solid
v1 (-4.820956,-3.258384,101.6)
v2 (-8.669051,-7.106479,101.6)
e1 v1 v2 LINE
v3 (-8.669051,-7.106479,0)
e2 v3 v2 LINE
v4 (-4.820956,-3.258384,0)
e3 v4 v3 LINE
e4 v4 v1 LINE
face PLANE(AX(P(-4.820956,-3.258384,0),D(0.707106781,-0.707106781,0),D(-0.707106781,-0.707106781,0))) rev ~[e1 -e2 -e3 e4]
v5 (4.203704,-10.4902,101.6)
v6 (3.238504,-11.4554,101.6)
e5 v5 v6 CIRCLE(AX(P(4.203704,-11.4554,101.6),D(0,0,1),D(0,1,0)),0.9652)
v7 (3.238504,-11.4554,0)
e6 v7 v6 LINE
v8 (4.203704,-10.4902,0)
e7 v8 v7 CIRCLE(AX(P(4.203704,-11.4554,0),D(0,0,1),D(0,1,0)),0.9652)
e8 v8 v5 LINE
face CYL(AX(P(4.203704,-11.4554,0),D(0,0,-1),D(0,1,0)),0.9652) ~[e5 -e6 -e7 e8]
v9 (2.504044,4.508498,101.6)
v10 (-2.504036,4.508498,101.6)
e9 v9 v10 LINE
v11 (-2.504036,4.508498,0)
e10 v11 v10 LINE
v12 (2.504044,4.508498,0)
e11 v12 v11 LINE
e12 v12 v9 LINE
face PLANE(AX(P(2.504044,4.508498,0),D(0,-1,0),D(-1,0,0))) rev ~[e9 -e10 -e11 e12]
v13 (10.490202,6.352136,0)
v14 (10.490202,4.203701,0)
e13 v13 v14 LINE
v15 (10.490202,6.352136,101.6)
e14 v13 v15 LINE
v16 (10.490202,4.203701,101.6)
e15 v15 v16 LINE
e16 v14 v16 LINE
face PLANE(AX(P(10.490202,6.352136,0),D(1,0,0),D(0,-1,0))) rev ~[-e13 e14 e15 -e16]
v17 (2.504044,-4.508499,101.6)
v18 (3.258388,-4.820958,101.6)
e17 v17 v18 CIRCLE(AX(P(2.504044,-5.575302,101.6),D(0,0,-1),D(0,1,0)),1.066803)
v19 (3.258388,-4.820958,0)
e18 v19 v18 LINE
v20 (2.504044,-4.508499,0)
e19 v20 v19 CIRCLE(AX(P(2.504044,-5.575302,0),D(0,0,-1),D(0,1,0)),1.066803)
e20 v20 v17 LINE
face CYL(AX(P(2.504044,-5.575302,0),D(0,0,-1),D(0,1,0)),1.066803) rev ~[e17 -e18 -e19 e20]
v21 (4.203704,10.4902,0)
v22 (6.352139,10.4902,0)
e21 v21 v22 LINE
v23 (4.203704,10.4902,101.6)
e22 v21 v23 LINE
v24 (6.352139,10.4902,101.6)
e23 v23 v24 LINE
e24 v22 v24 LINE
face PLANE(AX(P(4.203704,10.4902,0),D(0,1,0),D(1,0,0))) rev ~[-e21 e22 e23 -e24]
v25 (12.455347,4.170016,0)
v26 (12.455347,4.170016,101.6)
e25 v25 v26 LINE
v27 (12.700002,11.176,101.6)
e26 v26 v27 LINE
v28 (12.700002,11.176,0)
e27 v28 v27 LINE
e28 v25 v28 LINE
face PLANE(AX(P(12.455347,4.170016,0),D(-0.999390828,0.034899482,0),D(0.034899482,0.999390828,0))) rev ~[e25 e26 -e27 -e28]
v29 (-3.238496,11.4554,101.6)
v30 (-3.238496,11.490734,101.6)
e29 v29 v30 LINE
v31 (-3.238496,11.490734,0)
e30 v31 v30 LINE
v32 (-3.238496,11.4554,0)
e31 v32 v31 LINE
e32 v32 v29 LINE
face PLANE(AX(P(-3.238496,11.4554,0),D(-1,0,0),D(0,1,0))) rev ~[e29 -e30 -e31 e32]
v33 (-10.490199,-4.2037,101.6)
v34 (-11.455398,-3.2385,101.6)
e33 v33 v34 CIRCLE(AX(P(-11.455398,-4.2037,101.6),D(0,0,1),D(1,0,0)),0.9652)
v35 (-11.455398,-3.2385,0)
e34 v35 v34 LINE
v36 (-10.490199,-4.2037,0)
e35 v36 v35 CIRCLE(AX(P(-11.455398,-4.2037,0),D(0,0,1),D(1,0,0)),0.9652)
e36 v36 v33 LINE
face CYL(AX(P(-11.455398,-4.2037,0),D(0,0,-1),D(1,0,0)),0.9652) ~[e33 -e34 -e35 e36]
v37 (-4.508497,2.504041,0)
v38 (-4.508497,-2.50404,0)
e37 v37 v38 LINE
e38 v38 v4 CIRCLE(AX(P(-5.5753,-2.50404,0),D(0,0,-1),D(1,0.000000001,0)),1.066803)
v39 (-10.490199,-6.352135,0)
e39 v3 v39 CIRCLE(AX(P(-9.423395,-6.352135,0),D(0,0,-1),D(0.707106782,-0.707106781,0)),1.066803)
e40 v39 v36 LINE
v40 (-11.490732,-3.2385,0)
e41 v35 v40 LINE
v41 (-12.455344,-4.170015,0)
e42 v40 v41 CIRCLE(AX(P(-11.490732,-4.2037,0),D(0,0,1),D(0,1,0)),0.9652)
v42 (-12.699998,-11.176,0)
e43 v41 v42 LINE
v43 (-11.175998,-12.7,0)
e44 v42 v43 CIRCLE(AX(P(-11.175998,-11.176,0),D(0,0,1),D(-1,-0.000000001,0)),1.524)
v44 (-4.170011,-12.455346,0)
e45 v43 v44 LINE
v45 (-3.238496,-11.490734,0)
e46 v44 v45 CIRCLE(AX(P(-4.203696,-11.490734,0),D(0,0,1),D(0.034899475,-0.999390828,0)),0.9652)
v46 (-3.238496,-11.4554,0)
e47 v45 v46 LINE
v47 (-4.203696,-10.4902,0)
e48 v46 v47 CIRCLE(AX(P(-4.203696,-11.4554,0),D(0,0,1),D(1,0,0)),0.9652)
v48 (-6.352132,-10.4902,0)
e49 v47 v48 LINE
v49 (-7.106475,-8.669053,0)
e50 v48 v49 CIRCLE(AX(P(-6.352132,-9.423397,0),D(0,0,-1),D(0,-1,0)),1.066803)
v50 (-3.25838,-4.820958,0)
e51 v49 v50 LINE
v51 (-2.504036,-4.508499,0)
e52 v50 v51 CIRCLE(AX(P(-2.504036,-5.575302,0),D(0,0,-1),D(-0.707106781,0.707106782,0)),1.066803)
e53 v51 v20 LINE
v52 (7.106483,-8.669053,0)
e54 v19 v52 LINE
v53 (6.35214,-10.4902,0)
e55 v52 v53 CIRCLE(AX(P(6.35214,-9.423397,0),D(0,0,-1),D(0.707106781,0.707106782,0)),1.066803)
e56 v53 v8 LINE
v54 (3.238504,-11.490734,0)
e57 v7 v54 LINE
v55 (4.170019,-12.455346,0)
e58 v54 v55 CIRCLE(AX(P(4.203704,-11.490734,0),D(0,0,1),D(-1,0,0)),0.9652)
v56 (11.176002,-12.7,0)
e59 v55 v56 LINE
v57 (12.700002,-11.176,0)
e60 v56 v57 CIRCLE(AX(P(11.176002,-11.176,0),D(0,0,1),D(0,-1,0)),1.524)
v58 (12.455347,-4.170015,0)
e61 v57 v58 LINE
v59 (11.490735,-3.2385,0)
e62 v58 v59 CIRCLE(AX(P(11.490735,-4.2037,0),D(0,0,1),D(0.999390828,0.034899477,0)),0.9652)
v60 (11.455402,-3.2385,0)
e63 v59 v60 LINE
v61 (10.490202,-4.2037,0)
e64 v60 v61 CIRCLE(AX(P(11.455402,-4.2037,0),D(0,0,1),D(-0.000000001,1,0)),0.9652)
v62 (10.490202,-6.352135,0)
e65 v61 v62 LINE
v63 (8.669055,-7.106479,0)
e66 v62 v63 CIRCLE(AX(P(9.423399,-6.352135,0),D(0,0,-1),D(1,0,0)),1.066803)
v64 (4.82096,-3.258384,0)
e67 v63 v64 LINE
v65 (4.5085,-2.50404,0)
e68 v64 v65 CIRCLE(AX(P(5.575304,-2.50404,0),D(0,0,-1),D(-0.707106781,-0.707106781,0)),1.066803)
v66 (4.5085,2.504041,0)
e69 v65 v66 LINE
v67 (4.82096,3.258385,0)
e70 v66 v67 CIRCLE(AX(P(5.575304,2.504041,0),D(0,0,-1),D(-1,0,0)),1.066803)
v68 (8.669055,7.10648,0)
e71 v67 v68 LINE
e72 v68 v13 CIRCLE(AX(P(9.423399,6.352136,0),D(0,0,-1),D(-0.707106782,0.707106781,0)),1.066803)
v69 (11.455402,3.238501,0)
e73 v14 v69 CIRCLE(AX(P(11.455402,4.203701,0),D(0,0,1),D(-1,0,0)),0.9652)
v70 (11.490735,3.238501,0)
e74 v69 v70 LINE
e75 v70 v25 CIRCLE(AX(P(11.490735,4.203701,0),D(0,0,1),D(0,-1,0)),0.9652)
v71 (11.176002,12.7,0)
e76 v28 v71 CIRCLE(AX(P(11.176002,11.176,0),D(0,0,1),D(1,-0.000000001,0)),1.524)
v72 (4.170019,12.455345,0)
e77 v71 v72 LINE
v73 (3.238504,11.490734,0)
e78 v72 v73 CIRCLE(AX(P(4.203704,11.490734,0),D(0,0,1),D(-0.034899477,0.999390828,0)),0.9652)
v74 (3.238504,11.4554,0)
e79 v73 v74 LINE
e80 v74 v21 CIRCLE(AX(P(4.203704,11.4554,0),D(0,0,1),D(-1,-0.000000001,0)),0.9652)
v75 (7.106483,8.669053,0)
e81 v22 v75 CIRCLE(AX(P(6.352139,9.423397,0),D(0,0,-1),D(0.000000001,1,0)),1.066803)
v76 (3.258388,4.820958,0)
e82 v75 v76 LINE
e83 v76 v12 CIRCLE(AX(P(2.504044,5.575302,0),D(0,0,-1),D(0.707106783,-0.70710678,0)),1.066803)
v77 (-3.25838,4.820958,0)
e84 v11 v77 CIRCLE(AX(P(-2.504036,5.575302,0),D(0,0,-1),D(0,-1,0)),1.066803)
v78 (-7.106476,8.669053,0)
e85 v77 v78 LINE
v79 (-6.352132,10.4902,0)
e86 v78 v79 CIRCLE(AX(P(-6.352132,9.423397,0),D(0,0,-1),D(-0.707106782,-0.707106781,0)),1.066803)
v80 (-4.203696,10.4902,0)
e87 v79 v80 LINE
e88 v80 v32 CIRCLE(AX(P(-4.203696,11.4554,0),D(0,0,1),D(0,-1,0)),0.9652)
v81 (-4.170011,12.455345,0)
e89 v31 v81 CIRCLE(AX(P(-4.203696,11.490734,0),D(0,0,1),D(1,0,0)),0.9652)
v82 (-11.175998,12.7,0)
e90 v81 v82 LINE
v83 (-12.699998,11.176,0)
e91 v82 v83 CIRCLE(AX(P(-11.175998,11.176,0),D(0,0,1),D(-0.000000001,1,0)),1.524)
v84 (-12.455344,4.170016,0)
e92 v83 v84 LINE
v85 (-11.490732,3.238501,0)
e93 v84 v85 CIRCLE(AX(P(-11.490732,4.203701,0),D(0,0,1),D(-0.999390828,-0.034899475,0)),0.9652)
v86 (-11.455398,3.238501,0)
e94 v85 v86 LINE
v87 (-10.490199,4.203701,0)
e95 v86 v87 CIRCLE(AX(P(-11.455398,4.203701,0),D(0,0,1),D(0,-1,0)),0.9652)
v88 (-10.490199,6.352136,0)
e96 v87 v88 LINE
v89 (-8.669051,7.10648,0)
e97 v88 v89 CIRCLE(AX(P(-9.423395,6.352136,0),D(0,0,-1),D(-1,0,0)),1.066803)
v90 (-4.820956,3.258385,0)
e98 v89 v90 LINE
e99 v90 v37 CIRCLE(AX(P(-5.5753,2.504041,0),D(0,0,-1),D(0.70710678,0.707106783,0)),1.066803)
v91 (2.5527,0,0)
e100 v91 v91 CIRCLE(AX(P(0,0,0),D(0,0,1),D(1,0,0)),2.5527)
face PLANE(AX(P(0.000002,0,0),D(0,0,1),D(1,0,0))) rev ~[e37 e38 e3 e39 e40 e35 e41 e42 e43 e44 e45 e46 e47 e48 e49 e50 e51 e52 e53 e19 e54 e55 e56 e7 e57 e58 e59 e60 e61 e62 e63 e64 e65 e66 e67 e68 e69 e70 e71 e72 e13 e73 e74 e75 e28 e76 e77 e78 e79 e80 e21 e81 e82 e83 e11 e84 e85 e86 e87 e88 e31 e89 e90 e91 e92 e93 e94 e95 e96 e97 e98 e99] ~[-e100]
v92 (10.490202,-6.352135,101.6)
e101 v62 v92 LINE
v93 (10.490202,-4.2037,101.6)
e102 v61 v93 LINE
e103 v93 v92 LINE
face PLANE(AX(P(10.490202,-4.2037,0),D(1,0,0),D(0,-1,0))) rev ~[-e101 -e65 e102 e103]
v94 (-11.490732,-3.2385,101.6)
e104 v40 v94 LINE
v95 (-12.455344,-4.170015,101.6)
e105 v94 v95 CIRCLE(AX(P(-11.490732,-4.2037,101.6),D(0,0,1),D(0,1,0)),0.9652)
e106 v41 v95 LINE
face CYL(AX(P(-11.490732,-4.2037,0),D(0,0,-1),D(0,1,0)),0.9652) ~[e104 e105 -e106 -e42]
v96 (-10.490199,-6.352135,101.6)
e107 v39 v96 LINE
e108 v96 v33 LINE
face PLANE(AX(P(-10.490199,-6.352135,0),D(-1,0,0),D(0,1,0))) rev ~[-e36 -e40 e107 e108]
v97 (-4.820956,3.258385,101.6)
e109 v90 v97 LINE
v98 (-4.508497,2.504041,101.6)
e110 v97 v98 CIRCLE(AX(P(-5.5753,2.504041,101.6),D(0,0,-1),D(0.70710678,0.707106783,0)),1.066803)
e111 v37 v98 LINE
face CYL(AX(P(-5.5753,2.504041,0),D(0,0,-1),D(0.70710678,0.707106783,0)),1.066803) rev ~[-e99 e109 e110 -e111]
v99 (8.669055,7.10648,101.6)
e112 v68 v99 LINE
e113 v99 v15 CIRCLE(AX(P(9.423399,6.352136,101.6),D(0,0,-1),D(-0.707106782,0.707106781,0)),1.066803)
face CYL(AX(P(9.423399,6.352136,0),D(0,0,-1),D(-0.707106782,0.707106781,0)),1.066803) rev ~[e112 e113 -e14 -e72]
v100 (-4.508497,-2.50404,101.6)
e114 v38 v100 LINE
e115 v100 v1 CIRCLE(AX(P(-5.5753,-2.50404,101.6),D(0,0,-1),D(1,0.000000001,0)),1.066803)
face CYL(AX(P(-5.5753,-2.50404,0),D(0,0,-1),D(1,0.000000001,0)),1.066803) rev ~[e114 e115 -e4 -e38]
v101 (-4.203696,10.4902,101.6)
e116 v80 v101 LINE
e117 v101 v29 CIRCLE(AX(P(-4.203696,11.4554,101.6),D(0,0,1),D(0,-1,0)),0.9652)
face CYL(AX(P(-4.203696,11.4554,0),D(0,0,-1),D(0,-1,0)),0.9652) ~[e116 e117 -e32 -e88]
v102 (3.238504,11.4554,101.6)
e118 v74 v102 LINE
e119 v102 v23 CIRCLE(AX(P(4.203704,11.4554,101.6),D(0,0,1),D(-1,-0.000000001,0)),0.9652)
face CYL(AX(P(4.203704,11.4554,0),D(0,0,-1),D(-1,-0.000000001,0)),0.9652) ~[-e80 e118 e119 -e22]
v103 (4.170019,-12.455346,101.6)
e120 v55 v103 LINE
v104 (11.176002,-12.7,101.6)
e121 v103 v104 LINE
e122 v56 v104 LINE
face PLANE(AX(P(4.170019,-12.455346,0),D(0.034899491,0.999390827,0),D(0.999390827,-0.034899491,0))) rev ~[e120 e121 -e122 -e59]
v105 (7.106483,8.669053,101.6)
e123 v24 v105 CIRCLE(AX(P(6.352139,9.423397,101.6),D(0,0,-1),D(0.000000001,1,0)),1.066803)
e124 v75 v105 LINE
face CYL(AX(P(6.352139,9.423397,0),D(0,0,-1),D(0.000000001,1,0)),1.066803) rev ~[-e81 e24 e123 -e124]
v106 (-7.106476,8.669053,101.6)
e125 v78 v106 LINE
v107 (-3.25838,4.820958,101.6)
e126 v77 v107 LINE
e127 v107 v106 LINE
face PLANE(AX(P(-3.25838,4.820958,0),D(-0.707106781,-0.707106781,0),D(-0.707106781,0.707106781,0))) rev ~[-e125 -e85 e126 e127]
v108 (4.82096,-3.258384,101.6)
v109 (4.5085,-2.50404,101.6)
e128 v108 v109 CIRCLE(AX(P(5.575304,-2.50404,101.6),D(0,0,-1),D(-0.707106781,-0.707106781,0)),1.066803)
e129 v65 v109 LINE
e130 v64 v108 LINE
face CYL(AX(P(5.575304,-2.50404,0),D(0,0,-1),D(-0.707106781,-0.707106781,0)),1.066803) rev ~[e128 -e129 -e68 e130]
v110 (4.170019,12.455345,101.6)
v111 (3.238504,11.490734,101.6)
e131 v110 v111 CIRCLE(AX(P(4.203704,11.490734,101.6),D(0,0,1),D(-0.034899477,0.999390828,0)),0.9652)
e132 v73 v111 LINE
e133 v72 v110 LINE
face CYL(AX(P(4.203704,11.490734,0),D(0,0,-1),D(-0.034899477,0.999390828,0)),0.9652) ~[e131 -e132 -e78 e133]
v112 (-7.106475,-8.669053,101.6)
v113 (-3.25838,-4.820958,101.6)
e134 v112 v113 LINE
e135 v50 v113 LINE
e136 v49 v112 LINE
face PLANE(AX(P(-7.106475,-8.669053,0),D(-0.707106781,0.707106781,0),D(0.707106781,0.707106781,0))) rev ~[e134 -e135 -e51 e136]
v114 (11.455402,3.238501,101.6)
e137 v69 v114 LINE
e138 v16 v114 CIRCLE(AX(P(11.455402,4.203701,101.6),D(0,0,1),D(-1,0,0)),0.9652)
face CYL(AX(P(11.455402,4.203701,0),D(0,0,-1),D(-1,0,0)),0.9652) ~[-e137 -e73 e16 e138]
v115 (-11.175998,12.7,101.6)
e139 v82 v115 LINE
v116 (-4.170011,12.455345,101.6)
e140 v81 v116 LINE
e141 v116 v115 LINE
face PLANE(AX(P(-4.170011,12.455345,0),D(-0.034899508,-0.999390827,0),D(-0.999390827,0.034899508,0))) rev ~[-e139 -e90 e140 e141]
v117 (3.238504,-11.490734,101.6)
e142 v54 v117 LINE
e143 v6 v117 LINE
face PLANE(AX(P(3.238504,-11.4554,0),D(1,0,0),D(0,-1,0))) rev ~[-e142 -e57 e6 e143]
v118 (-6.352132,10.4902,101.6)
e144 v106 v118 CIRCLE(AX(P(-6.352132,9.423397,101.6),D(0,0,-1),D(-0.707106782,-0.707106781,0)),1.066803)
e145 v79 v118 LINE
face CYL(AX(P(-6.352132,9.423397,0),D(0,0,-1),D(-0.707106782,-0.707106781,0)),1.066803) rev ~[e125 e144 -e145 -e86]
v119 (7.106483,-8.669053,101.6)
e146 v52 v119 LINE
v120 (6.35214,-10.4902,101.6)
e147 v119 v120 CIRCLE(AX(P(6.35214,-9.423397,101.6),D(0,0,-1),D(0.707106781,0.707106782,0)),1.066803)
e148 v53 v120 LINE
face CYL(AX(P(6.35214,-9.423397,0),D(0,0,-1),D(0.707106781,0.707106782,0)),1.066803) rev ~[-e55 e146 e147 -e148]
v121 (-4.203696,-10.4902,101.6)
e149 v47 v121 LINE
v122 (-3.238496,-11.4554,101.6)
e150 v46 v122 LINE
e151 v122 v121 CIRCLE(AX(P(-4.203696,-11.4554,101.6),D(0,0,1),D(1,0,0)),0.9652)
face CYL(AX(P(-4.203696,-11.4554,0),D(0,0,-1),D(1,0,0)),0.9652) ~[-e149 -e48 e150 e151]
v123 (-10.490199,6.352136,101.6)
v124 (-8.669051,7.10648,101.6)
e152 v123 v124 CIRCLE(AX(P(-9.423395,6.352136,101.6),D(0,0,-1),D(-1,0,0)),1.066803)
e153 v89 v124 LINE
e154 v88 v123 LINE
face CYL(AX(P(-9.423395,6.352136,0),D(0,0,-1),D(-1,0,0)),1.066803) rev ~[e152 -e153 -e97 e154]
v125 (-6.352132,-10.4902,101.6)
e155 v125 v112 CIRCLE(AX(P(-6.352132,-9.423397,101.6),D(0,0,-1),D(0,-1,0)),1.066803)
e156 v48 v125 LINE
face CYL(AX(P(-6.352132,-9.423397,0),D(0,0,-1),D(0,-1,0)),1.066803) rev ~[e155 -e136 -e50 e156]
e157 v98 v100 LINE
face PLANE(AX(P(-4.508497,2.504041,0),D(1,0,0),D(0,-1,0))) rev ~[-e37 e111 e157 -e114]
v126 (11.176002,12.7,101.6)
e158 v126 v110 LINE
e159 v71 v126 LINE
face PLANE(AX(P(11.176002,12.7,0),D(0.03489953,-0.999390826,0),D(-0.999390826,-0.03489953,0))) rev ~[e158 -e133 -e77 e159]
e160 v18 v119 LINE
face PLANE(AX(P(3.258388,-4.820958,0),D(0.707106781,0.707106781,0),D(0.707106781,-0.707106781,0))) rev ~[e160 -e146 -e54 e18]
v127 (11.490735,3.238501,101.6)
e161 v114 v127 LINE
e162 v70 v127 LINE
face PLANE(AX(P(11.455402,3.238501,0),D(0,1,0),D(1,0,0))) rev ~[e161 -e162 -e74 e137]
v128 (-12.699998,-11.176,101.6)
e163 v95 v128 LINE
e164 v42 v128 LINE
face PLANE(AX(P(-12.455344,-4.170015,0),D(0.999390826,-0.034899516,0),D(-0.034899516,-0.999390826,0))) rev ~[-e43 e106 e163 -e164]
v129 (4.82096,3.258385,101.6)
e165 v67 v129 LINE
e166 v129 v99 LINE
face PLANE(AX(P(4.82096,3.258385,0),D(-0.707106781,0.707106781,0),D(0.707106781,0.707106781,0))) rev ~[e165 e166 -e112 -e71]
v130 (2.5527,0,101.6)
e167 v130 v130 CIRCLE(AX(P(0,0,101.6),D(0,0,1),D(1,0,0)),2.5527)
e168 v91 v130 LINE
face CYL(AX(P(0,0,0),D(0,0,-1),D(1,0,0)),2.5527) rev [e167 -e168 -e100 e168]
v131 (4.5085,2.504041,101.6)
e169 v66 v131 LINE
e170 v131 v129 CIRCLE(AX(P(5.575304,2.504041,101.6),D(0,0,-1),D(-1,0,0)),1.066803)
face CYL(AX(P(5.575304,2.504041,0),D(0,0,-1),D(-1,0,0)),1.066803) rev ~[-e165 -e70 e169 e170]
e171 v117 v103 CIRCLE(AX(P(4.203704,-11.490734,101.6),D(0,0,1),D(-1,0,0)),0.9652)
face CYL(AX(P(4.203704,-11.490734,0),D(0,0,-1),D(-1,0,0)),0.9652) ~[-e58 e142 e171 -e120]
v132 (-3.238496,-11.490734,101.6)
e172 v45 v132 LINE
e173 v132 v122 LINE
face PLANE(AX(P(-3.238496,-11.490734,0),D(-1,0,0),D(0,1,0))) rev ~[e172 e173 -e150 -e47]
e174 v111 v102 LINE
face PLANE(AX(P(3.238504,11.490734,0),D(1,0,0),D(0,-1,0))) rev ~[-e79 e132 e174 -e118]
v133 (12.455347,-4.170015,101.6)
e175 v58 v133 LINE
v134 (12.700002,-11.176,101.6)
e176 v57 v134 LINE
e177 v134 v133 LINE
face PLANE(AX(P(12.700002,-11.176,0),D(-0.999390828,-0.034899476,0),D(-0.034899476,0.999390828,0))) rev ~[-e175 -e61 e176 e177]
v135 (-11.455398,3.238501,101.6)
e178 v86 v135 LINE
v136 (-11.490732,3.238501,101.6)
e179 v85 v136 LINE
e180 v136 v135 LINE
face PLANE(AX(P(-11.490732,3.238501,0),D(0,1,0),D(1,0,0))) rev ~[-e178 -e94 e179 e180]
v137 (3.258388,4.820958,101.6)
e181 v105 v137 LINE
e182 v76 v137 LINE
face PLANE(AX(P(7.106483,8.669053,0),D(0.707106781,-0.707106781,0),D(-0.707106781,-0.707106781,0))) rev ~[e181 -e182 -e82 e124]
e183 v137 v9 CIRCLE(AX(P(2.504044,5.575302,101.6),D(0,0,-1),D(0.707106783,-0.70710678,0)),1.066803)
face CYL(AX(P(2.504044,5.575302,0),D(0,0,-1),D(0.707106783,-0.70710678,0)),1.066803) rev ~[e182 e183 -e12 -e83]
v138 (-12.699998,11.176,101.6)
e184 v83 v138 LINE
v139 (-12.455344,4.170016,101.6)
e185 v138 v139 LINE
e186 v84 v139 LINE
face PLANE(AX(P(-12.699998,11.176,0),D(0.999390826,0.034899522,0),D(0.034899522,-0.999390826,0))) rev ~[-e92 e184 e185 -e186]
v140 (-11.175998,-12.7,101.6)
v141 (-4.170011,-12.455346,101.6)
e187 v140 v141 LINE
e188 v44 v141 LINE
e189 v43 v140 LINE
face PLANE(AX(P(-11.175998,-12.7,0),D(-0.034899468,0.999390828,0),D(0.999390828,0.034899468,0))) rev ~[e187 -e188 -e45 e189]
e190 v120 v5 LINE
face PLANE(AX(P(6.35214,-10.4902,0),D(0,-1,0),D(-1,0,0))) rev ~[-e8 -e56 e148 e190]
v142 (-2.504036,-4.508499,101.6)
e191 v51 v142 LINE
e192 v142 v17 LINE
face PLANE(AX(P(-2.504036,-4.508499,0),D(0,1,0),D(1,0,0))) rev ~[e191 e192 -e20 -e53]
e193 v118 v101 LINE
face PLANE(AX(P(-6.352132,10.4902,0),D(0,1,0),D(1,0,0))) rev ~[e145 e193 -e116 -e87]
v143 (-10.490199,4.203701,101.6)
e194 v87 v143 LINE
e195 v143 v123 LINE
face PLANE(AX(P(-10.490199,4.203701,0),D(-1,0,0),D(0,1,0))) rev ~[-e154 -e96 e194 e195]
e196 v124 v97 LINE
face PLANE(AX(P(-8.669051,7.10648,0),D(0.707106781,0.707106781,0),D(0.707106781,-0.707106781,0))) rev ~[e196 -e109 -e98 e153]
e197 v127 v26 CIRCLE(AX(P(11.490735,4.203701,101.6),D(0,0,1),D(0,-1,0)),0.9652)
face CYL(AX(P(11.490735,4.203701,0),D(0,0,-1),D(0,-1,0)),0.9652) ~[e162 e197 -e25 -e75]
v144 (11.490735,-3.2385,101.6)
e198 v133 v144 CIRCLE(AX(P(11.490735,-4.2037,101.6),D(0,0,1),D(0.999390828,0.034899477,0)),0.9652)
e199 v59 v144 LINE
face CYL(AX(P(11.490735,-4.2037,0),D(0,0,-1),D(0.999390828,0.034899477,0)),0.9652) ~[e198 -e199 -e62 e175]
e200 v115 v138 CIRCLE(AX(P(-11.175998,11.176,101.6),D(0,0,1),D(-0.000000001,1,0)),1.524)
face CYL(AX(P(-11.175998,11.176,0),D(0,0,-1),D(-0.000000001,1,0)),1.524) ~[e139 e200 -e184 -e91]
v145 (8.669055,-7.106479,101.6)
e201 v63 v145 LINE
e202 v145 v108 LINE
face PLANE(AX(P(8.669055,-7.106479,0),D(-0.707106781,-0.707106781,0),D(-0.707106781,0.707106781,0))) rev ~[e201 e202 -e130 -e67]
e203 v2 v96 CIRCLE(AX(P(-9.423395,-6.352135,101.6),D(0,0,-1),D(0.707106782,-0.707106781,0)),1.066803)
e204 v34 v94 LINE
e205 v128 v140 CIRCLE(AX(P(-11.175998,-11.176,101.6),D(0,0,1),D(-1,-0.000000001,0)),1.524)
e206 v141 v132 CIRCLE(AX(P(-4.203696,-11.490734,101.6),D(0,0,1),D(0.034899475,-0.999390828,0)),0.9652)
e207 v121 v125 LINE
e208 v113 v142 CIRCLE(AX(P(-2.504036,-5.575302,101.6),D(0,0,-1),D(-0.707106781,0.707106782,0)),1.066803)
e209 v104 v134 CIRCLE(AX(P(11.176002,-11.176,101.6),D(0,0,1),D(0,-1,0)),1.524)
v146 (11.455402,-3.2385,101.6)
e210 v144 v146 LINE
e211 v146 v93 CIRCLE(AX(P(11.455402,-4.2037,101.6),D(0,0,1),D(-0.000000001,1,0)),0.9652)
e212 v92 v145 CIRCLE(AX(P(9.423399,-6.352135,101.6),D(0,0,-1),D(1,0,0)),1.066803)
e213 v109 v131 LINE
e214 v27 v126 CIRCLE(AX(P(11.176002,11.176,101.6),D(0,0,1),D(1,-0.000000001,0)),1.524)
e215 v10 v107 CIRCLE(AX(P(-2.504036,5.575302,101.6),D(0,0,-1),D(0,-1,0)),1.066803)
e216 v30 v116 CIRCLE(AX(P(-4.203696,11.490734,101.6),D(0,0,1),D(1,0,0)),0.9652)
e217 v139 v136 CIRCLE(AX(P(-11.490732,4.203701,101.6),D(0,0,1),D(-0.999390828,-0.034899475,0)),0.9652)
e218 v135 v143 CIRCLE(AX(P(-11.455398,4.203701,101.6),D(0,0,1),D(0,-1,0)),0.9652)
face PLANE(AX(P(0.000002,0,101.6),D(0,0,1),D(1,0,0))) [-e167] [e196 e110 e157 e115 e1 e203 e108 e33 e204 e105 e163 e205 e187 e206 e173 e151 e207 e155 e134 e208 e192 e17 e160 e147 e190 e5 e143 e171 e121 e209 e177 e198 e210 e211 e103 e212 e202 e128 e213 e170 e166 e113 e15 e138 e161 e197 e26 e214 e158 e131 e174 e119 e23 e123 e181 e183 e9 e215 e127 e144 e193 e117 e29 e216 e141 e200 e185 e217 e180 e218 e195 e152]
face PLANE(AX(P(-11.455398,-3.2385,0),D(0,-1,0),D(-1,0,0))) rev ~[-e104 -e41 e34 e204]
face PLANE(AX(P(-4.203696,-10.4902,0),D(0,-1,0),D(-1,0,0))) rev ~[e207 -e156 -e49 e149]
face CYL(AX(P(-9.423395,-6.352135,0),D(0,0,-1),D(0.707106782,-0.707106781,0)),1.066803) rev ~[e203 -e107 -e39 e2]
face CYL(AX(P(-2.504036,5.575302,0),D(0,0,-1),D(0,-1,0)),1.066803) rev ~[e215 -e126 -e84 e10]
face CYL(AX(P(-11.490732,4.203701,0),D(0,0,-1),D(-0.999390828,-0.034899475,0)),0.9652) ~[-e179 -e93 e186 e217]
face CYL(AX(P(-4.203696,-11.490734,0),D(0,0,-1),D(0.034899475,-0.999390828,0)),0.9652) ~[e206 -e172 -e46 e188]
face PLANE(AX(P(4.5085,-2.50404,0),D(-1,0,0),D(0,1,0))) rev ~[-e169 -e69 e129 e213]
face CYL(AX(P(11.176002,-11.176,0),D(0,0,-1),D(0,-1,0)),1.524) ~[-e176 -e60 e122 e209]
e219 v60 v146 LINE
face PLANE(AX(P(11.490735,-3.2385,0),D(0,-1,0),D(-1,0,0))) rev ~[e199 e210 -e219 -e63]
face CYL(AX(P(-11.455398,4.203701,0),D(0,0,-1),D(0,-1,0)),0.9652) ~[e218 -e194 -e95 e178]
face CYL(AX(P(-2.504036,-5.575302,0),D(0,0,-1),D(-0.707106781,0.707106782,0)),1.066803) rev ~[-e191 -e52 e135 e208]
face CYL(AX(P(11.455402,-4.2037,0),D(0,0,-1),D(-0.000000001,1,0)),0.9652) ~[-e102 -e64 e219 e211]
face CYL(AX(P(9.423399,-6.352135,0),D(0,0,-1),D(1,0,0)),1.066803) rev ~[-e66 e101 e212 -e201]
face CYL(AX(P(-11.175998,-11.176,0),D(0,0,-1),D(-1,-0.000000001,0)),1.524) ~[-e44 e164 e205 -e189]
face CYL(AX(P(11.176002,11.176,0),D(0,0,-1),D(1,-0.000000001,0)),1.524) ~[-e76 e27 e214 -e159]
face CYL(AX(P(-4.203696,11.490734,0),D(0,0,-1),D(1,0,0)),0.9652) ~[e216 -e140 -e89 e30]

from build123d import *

# Parameters (mm, degrees)
SKETCH1_R      = 2.5527
EXTRUDE1_DEPTH = 101.6


with BuildPart() as part:
    # Sketch1 → Extrude1 (new body)
    with BuildSketch(Plane.XY):
        with BuildLine():
            Line((3.238504286, -11.455400345), (3.238504286, -11.49073383))
            ThreePointArc((3.238504286, -11.49073383), (3.509397472, -12.161218003), (4.170019162, -12.455345741))
            Line((4.170019162, -12.455345741), (11.176001705, -12.7))
            ThreePointArc((11.176001705, -12.7), (12.253632411, -12.253630746), (12.700001664, -11.17600004))
            Line((12.700001664, -11.17600004), (12.455347406, -4.170014669))
            ThreePointArc((12.455347406, -4.170014669), (12.16121968, -3.509392954), (11.490735494, -3.238499755))
            Line((11.490735494, -3.238499755), (11.455402009, -3.238499755))
            ThreePointArc((11.455402009, -3.238499755), (10.772902626, -3.521200256), (10.490202125, -4.20369964))
            Line((10.490202125, -4.20369964), (10.490202125, -6.352134987))
            ThreePointArc((10.490202125, -6.352134987), (9.831646779, -7.337732713), (8.669054992, -7.106478829))
            Line((8.669054992, -7.106478829), (4.820959759, -3.258383596))
            ThreePointArc((4.820959759, -3.258383596), (4.589705874, -2.912287699), (4.508500309, -2.504039754))
            Line((4.508500309, -2.504039754), (4.508500309, 2.504040946))
            ThreePointArc((4.508500309, 2.504040946), (4.589705874, 2.912288891), (4.820959759, 3.258384788))
            Line((4.820959759, 3.258384788), (8.669054992, 7.106480021))
            ThreePointArc((8.669054992, 7.106480021), (9.831646779, 7.337733906), (10.490202125, 6.35213618))
            Line((10.490202125, 6.35213618), (10.490202125, 4.203700832))
            ThreePointArc((10.490202125, 4.203700832), (10.772902626, 3.521201448), (11.455402009, 3.238500947))
            Line((11.455402009, 3.238500947), (11.490735494, 3.238500947))
            ThreePointArc((11.490735494, 3.238500947), (12.161219667, 3.509394133), (12.455347406, 4.170015823))
            Line((12.455347406, 4.170015823), (12.700001664, 11.176000039))
            ThreePointArc((12.700001664, 11.176000039), (12.253632411, 12.253630745), (11.176001705, 12.699999999))
            Line((11.176001705, 12.699999999), (4.170019162, 12.455345462))
            ThreePointArc((4.170019162, 12.455345462), (3.509397447, 12.161217736), (3.238504248, 11.49073355))
            Line((3.238504248, 11.49073355), (3.238504248, 11.455400065))
            ThreePointArc((3.238504248, 11.455400065), (3.521204749, 10.772900682), (4.203704132, 10.490200181))
            Line((4.203704132, 10.490200181), (6.35213948, 10.490200181))
            ThreePointArc((6.35213948, 10.490200181), (7.337737205, 9.831644835), (7.106483322, 8.669053049))
            Line((7.106483322, 8.669053049), (3.258388088, 4.820957816))
            ThreePointArc((3.258388088, 4.820957816), (2.912292192, 4.589703931), (2.504044247, 4.508498366))
            Line((2.504044247, 4.508498366), (-2.504036453, 4.508498366))
            ThreePointArc((-2.504036453, 4.508498366), (-2.912284398, 4.589703931), (-3.258380295, 4.820957816))
            Line((-3.258380295, 4.820957816), (-7.106475528, 8.669053049))
            ThreePointArc((-7.106475528, 8.669053049), (-7.337729412, 9.831644836), (-6.352131686, 10.490200182))
            Line((-6.352131686, 10.490200182), (-4.203696339, 10.490200182))
            ThreePointArc((-4.203696339, 10.490200182), (-3.521196955, 10.772900683), (-3.238496454, 11.455400067))
            Line((-3.238496454, 11.455400067), (-3.238496454, 11.490733551))
            ThreePointArc((-3.238496454, 11.490733551), (-3.50938964, 12.161217724), (-4.17001133, 12.455345462))
            Line((-4.17001133, 12.455345462), (-11.175998375, 12.699999999))
            ThreePointArc((-11.175998375, 12.699999999), (-12.253629081, 12.253630745), (-12.699998335, 11.176000039))
            Line((-12.699998335, 11.176000039), (-12.455343798, 4.170015823))
            ThreePointArc((-12.455343798, 4.170015823), (-12.161216073, 3.509394108), (-11.490731887, 3.238500909))
            Line((-11.490731887, 3.238500909), (-11.455398403, 3.238500909))
            ThreePointArc((-11.455398403, 3.238500909), (-10.772899019, 3.52120141), (-10.490198518, 4.203700793))
            Line((-10.490198518, 4.203700793), (-10.490198518, 6.352136141))
            ThreePointArc((-10.490198518, 6.352136141), (-9.831643172, 7.337733867), (-8.669051385, 7.106479983))
            Line((-8.669051385, 7.106479983), (-4.820956152, 3.258384749))
            ThreePointArc((-4.820956152, 3.258384749), (-4.589702267, 2.912288853), (-4.508496702, 2.504040908))
            Line((-4.508496702, 2.504040908), (-4.508496702, -2.504039793))
            ThreePointArc((-4.508496702, -2.504039793), (-4.589702267, -2.912287738), (-4.820956152, -3.258383634))
            Line((-4.820956152, -3.258383634), (-8.669051385, -7.106478867))
            ThreePointArc((-8.669051385, -7.106478867), (-9.831643172, -7.337732752), (-10.490198518, -6.352135026))
            Line((-10.490198518, -6.352135026), (-10.490198518, -4.203699678))
            ThreePointArc((-10.490198518, -4.203699678), (-10.772899019, -3.521200294), (-11.455398403, -3.238499793))
            Line((-11.455398403, -3.238499793), (-11.490731887, -3.238499793))
            ThreePointArc((-11.490731887, -3.238499793), (-12.16121606, -3.509392979), (-12.455343798, -4.170014669))
            Line((-12.455343798, -4.170014669), (-12.699998335, -11.17600004))
            ThreePointArc((-12.699998335, -11.17600004), (-12.253629081, -12.253630746), (-11.175998375, -12.7))
            Line((-11.175998375, -12.7), (-4.17001133, -12.455345741))
            ThreePointArc((-4.17001133, -12.455345741), (-3.509389615, -12.161218016), (-3.238496416, -11.49073383))
            Line((-3.238496416, -11.49073383), (-3.238496416, -11.455400345))
            ThreePointArc((-3.238496416, -11.455400345), (-3.521196917, -10.772900961), (-4.2036963, -10.49020046))
            Line((-4.2036963, -10.49020046), (-6.352131648, -10.49020046))
            ThreePointArc((-6.352131648, -10.49020046), (-7.337729374, -9.831645114), (-7.106475489, -8.669053328))
            Line((-7.106475489, -8.669053328), (-3.258380256, -4.820958094))
            ThreePointArc((-3.258380256, -4.820958094), (-2.91228436, -4.58970421), (-2.504036415, -4.508498645))
            Line((-2.504036415, -4.508498645), (2.504044285, -4.508498645))
            ThreePointArc((2.504044285, -4.508498645), (2.91229223, -4.58970421), (3.258388127, -4.820958094))
            Line((3.258388127, -4.820958094), (7.10648336, -8.669053328))
            ThreePointArc((7.10648336, -8.669053328), (7.337737245, -9.831645114), (6.352139519, -10.49020046))
            Line((6.352139519, -10.49020046), (4.203704171, -10.49020046))
            ThreePointArc((4.203704171, -10.49020046), (3.521204787, -10.772900961), (3.238504286, -11.455400345))
        make_face()
        Circle(SKETCH1_R, mode=Mode.SUBTRACT)
    extrude(amount=EXTRUDE1_DEPTH)


solid = part.part
